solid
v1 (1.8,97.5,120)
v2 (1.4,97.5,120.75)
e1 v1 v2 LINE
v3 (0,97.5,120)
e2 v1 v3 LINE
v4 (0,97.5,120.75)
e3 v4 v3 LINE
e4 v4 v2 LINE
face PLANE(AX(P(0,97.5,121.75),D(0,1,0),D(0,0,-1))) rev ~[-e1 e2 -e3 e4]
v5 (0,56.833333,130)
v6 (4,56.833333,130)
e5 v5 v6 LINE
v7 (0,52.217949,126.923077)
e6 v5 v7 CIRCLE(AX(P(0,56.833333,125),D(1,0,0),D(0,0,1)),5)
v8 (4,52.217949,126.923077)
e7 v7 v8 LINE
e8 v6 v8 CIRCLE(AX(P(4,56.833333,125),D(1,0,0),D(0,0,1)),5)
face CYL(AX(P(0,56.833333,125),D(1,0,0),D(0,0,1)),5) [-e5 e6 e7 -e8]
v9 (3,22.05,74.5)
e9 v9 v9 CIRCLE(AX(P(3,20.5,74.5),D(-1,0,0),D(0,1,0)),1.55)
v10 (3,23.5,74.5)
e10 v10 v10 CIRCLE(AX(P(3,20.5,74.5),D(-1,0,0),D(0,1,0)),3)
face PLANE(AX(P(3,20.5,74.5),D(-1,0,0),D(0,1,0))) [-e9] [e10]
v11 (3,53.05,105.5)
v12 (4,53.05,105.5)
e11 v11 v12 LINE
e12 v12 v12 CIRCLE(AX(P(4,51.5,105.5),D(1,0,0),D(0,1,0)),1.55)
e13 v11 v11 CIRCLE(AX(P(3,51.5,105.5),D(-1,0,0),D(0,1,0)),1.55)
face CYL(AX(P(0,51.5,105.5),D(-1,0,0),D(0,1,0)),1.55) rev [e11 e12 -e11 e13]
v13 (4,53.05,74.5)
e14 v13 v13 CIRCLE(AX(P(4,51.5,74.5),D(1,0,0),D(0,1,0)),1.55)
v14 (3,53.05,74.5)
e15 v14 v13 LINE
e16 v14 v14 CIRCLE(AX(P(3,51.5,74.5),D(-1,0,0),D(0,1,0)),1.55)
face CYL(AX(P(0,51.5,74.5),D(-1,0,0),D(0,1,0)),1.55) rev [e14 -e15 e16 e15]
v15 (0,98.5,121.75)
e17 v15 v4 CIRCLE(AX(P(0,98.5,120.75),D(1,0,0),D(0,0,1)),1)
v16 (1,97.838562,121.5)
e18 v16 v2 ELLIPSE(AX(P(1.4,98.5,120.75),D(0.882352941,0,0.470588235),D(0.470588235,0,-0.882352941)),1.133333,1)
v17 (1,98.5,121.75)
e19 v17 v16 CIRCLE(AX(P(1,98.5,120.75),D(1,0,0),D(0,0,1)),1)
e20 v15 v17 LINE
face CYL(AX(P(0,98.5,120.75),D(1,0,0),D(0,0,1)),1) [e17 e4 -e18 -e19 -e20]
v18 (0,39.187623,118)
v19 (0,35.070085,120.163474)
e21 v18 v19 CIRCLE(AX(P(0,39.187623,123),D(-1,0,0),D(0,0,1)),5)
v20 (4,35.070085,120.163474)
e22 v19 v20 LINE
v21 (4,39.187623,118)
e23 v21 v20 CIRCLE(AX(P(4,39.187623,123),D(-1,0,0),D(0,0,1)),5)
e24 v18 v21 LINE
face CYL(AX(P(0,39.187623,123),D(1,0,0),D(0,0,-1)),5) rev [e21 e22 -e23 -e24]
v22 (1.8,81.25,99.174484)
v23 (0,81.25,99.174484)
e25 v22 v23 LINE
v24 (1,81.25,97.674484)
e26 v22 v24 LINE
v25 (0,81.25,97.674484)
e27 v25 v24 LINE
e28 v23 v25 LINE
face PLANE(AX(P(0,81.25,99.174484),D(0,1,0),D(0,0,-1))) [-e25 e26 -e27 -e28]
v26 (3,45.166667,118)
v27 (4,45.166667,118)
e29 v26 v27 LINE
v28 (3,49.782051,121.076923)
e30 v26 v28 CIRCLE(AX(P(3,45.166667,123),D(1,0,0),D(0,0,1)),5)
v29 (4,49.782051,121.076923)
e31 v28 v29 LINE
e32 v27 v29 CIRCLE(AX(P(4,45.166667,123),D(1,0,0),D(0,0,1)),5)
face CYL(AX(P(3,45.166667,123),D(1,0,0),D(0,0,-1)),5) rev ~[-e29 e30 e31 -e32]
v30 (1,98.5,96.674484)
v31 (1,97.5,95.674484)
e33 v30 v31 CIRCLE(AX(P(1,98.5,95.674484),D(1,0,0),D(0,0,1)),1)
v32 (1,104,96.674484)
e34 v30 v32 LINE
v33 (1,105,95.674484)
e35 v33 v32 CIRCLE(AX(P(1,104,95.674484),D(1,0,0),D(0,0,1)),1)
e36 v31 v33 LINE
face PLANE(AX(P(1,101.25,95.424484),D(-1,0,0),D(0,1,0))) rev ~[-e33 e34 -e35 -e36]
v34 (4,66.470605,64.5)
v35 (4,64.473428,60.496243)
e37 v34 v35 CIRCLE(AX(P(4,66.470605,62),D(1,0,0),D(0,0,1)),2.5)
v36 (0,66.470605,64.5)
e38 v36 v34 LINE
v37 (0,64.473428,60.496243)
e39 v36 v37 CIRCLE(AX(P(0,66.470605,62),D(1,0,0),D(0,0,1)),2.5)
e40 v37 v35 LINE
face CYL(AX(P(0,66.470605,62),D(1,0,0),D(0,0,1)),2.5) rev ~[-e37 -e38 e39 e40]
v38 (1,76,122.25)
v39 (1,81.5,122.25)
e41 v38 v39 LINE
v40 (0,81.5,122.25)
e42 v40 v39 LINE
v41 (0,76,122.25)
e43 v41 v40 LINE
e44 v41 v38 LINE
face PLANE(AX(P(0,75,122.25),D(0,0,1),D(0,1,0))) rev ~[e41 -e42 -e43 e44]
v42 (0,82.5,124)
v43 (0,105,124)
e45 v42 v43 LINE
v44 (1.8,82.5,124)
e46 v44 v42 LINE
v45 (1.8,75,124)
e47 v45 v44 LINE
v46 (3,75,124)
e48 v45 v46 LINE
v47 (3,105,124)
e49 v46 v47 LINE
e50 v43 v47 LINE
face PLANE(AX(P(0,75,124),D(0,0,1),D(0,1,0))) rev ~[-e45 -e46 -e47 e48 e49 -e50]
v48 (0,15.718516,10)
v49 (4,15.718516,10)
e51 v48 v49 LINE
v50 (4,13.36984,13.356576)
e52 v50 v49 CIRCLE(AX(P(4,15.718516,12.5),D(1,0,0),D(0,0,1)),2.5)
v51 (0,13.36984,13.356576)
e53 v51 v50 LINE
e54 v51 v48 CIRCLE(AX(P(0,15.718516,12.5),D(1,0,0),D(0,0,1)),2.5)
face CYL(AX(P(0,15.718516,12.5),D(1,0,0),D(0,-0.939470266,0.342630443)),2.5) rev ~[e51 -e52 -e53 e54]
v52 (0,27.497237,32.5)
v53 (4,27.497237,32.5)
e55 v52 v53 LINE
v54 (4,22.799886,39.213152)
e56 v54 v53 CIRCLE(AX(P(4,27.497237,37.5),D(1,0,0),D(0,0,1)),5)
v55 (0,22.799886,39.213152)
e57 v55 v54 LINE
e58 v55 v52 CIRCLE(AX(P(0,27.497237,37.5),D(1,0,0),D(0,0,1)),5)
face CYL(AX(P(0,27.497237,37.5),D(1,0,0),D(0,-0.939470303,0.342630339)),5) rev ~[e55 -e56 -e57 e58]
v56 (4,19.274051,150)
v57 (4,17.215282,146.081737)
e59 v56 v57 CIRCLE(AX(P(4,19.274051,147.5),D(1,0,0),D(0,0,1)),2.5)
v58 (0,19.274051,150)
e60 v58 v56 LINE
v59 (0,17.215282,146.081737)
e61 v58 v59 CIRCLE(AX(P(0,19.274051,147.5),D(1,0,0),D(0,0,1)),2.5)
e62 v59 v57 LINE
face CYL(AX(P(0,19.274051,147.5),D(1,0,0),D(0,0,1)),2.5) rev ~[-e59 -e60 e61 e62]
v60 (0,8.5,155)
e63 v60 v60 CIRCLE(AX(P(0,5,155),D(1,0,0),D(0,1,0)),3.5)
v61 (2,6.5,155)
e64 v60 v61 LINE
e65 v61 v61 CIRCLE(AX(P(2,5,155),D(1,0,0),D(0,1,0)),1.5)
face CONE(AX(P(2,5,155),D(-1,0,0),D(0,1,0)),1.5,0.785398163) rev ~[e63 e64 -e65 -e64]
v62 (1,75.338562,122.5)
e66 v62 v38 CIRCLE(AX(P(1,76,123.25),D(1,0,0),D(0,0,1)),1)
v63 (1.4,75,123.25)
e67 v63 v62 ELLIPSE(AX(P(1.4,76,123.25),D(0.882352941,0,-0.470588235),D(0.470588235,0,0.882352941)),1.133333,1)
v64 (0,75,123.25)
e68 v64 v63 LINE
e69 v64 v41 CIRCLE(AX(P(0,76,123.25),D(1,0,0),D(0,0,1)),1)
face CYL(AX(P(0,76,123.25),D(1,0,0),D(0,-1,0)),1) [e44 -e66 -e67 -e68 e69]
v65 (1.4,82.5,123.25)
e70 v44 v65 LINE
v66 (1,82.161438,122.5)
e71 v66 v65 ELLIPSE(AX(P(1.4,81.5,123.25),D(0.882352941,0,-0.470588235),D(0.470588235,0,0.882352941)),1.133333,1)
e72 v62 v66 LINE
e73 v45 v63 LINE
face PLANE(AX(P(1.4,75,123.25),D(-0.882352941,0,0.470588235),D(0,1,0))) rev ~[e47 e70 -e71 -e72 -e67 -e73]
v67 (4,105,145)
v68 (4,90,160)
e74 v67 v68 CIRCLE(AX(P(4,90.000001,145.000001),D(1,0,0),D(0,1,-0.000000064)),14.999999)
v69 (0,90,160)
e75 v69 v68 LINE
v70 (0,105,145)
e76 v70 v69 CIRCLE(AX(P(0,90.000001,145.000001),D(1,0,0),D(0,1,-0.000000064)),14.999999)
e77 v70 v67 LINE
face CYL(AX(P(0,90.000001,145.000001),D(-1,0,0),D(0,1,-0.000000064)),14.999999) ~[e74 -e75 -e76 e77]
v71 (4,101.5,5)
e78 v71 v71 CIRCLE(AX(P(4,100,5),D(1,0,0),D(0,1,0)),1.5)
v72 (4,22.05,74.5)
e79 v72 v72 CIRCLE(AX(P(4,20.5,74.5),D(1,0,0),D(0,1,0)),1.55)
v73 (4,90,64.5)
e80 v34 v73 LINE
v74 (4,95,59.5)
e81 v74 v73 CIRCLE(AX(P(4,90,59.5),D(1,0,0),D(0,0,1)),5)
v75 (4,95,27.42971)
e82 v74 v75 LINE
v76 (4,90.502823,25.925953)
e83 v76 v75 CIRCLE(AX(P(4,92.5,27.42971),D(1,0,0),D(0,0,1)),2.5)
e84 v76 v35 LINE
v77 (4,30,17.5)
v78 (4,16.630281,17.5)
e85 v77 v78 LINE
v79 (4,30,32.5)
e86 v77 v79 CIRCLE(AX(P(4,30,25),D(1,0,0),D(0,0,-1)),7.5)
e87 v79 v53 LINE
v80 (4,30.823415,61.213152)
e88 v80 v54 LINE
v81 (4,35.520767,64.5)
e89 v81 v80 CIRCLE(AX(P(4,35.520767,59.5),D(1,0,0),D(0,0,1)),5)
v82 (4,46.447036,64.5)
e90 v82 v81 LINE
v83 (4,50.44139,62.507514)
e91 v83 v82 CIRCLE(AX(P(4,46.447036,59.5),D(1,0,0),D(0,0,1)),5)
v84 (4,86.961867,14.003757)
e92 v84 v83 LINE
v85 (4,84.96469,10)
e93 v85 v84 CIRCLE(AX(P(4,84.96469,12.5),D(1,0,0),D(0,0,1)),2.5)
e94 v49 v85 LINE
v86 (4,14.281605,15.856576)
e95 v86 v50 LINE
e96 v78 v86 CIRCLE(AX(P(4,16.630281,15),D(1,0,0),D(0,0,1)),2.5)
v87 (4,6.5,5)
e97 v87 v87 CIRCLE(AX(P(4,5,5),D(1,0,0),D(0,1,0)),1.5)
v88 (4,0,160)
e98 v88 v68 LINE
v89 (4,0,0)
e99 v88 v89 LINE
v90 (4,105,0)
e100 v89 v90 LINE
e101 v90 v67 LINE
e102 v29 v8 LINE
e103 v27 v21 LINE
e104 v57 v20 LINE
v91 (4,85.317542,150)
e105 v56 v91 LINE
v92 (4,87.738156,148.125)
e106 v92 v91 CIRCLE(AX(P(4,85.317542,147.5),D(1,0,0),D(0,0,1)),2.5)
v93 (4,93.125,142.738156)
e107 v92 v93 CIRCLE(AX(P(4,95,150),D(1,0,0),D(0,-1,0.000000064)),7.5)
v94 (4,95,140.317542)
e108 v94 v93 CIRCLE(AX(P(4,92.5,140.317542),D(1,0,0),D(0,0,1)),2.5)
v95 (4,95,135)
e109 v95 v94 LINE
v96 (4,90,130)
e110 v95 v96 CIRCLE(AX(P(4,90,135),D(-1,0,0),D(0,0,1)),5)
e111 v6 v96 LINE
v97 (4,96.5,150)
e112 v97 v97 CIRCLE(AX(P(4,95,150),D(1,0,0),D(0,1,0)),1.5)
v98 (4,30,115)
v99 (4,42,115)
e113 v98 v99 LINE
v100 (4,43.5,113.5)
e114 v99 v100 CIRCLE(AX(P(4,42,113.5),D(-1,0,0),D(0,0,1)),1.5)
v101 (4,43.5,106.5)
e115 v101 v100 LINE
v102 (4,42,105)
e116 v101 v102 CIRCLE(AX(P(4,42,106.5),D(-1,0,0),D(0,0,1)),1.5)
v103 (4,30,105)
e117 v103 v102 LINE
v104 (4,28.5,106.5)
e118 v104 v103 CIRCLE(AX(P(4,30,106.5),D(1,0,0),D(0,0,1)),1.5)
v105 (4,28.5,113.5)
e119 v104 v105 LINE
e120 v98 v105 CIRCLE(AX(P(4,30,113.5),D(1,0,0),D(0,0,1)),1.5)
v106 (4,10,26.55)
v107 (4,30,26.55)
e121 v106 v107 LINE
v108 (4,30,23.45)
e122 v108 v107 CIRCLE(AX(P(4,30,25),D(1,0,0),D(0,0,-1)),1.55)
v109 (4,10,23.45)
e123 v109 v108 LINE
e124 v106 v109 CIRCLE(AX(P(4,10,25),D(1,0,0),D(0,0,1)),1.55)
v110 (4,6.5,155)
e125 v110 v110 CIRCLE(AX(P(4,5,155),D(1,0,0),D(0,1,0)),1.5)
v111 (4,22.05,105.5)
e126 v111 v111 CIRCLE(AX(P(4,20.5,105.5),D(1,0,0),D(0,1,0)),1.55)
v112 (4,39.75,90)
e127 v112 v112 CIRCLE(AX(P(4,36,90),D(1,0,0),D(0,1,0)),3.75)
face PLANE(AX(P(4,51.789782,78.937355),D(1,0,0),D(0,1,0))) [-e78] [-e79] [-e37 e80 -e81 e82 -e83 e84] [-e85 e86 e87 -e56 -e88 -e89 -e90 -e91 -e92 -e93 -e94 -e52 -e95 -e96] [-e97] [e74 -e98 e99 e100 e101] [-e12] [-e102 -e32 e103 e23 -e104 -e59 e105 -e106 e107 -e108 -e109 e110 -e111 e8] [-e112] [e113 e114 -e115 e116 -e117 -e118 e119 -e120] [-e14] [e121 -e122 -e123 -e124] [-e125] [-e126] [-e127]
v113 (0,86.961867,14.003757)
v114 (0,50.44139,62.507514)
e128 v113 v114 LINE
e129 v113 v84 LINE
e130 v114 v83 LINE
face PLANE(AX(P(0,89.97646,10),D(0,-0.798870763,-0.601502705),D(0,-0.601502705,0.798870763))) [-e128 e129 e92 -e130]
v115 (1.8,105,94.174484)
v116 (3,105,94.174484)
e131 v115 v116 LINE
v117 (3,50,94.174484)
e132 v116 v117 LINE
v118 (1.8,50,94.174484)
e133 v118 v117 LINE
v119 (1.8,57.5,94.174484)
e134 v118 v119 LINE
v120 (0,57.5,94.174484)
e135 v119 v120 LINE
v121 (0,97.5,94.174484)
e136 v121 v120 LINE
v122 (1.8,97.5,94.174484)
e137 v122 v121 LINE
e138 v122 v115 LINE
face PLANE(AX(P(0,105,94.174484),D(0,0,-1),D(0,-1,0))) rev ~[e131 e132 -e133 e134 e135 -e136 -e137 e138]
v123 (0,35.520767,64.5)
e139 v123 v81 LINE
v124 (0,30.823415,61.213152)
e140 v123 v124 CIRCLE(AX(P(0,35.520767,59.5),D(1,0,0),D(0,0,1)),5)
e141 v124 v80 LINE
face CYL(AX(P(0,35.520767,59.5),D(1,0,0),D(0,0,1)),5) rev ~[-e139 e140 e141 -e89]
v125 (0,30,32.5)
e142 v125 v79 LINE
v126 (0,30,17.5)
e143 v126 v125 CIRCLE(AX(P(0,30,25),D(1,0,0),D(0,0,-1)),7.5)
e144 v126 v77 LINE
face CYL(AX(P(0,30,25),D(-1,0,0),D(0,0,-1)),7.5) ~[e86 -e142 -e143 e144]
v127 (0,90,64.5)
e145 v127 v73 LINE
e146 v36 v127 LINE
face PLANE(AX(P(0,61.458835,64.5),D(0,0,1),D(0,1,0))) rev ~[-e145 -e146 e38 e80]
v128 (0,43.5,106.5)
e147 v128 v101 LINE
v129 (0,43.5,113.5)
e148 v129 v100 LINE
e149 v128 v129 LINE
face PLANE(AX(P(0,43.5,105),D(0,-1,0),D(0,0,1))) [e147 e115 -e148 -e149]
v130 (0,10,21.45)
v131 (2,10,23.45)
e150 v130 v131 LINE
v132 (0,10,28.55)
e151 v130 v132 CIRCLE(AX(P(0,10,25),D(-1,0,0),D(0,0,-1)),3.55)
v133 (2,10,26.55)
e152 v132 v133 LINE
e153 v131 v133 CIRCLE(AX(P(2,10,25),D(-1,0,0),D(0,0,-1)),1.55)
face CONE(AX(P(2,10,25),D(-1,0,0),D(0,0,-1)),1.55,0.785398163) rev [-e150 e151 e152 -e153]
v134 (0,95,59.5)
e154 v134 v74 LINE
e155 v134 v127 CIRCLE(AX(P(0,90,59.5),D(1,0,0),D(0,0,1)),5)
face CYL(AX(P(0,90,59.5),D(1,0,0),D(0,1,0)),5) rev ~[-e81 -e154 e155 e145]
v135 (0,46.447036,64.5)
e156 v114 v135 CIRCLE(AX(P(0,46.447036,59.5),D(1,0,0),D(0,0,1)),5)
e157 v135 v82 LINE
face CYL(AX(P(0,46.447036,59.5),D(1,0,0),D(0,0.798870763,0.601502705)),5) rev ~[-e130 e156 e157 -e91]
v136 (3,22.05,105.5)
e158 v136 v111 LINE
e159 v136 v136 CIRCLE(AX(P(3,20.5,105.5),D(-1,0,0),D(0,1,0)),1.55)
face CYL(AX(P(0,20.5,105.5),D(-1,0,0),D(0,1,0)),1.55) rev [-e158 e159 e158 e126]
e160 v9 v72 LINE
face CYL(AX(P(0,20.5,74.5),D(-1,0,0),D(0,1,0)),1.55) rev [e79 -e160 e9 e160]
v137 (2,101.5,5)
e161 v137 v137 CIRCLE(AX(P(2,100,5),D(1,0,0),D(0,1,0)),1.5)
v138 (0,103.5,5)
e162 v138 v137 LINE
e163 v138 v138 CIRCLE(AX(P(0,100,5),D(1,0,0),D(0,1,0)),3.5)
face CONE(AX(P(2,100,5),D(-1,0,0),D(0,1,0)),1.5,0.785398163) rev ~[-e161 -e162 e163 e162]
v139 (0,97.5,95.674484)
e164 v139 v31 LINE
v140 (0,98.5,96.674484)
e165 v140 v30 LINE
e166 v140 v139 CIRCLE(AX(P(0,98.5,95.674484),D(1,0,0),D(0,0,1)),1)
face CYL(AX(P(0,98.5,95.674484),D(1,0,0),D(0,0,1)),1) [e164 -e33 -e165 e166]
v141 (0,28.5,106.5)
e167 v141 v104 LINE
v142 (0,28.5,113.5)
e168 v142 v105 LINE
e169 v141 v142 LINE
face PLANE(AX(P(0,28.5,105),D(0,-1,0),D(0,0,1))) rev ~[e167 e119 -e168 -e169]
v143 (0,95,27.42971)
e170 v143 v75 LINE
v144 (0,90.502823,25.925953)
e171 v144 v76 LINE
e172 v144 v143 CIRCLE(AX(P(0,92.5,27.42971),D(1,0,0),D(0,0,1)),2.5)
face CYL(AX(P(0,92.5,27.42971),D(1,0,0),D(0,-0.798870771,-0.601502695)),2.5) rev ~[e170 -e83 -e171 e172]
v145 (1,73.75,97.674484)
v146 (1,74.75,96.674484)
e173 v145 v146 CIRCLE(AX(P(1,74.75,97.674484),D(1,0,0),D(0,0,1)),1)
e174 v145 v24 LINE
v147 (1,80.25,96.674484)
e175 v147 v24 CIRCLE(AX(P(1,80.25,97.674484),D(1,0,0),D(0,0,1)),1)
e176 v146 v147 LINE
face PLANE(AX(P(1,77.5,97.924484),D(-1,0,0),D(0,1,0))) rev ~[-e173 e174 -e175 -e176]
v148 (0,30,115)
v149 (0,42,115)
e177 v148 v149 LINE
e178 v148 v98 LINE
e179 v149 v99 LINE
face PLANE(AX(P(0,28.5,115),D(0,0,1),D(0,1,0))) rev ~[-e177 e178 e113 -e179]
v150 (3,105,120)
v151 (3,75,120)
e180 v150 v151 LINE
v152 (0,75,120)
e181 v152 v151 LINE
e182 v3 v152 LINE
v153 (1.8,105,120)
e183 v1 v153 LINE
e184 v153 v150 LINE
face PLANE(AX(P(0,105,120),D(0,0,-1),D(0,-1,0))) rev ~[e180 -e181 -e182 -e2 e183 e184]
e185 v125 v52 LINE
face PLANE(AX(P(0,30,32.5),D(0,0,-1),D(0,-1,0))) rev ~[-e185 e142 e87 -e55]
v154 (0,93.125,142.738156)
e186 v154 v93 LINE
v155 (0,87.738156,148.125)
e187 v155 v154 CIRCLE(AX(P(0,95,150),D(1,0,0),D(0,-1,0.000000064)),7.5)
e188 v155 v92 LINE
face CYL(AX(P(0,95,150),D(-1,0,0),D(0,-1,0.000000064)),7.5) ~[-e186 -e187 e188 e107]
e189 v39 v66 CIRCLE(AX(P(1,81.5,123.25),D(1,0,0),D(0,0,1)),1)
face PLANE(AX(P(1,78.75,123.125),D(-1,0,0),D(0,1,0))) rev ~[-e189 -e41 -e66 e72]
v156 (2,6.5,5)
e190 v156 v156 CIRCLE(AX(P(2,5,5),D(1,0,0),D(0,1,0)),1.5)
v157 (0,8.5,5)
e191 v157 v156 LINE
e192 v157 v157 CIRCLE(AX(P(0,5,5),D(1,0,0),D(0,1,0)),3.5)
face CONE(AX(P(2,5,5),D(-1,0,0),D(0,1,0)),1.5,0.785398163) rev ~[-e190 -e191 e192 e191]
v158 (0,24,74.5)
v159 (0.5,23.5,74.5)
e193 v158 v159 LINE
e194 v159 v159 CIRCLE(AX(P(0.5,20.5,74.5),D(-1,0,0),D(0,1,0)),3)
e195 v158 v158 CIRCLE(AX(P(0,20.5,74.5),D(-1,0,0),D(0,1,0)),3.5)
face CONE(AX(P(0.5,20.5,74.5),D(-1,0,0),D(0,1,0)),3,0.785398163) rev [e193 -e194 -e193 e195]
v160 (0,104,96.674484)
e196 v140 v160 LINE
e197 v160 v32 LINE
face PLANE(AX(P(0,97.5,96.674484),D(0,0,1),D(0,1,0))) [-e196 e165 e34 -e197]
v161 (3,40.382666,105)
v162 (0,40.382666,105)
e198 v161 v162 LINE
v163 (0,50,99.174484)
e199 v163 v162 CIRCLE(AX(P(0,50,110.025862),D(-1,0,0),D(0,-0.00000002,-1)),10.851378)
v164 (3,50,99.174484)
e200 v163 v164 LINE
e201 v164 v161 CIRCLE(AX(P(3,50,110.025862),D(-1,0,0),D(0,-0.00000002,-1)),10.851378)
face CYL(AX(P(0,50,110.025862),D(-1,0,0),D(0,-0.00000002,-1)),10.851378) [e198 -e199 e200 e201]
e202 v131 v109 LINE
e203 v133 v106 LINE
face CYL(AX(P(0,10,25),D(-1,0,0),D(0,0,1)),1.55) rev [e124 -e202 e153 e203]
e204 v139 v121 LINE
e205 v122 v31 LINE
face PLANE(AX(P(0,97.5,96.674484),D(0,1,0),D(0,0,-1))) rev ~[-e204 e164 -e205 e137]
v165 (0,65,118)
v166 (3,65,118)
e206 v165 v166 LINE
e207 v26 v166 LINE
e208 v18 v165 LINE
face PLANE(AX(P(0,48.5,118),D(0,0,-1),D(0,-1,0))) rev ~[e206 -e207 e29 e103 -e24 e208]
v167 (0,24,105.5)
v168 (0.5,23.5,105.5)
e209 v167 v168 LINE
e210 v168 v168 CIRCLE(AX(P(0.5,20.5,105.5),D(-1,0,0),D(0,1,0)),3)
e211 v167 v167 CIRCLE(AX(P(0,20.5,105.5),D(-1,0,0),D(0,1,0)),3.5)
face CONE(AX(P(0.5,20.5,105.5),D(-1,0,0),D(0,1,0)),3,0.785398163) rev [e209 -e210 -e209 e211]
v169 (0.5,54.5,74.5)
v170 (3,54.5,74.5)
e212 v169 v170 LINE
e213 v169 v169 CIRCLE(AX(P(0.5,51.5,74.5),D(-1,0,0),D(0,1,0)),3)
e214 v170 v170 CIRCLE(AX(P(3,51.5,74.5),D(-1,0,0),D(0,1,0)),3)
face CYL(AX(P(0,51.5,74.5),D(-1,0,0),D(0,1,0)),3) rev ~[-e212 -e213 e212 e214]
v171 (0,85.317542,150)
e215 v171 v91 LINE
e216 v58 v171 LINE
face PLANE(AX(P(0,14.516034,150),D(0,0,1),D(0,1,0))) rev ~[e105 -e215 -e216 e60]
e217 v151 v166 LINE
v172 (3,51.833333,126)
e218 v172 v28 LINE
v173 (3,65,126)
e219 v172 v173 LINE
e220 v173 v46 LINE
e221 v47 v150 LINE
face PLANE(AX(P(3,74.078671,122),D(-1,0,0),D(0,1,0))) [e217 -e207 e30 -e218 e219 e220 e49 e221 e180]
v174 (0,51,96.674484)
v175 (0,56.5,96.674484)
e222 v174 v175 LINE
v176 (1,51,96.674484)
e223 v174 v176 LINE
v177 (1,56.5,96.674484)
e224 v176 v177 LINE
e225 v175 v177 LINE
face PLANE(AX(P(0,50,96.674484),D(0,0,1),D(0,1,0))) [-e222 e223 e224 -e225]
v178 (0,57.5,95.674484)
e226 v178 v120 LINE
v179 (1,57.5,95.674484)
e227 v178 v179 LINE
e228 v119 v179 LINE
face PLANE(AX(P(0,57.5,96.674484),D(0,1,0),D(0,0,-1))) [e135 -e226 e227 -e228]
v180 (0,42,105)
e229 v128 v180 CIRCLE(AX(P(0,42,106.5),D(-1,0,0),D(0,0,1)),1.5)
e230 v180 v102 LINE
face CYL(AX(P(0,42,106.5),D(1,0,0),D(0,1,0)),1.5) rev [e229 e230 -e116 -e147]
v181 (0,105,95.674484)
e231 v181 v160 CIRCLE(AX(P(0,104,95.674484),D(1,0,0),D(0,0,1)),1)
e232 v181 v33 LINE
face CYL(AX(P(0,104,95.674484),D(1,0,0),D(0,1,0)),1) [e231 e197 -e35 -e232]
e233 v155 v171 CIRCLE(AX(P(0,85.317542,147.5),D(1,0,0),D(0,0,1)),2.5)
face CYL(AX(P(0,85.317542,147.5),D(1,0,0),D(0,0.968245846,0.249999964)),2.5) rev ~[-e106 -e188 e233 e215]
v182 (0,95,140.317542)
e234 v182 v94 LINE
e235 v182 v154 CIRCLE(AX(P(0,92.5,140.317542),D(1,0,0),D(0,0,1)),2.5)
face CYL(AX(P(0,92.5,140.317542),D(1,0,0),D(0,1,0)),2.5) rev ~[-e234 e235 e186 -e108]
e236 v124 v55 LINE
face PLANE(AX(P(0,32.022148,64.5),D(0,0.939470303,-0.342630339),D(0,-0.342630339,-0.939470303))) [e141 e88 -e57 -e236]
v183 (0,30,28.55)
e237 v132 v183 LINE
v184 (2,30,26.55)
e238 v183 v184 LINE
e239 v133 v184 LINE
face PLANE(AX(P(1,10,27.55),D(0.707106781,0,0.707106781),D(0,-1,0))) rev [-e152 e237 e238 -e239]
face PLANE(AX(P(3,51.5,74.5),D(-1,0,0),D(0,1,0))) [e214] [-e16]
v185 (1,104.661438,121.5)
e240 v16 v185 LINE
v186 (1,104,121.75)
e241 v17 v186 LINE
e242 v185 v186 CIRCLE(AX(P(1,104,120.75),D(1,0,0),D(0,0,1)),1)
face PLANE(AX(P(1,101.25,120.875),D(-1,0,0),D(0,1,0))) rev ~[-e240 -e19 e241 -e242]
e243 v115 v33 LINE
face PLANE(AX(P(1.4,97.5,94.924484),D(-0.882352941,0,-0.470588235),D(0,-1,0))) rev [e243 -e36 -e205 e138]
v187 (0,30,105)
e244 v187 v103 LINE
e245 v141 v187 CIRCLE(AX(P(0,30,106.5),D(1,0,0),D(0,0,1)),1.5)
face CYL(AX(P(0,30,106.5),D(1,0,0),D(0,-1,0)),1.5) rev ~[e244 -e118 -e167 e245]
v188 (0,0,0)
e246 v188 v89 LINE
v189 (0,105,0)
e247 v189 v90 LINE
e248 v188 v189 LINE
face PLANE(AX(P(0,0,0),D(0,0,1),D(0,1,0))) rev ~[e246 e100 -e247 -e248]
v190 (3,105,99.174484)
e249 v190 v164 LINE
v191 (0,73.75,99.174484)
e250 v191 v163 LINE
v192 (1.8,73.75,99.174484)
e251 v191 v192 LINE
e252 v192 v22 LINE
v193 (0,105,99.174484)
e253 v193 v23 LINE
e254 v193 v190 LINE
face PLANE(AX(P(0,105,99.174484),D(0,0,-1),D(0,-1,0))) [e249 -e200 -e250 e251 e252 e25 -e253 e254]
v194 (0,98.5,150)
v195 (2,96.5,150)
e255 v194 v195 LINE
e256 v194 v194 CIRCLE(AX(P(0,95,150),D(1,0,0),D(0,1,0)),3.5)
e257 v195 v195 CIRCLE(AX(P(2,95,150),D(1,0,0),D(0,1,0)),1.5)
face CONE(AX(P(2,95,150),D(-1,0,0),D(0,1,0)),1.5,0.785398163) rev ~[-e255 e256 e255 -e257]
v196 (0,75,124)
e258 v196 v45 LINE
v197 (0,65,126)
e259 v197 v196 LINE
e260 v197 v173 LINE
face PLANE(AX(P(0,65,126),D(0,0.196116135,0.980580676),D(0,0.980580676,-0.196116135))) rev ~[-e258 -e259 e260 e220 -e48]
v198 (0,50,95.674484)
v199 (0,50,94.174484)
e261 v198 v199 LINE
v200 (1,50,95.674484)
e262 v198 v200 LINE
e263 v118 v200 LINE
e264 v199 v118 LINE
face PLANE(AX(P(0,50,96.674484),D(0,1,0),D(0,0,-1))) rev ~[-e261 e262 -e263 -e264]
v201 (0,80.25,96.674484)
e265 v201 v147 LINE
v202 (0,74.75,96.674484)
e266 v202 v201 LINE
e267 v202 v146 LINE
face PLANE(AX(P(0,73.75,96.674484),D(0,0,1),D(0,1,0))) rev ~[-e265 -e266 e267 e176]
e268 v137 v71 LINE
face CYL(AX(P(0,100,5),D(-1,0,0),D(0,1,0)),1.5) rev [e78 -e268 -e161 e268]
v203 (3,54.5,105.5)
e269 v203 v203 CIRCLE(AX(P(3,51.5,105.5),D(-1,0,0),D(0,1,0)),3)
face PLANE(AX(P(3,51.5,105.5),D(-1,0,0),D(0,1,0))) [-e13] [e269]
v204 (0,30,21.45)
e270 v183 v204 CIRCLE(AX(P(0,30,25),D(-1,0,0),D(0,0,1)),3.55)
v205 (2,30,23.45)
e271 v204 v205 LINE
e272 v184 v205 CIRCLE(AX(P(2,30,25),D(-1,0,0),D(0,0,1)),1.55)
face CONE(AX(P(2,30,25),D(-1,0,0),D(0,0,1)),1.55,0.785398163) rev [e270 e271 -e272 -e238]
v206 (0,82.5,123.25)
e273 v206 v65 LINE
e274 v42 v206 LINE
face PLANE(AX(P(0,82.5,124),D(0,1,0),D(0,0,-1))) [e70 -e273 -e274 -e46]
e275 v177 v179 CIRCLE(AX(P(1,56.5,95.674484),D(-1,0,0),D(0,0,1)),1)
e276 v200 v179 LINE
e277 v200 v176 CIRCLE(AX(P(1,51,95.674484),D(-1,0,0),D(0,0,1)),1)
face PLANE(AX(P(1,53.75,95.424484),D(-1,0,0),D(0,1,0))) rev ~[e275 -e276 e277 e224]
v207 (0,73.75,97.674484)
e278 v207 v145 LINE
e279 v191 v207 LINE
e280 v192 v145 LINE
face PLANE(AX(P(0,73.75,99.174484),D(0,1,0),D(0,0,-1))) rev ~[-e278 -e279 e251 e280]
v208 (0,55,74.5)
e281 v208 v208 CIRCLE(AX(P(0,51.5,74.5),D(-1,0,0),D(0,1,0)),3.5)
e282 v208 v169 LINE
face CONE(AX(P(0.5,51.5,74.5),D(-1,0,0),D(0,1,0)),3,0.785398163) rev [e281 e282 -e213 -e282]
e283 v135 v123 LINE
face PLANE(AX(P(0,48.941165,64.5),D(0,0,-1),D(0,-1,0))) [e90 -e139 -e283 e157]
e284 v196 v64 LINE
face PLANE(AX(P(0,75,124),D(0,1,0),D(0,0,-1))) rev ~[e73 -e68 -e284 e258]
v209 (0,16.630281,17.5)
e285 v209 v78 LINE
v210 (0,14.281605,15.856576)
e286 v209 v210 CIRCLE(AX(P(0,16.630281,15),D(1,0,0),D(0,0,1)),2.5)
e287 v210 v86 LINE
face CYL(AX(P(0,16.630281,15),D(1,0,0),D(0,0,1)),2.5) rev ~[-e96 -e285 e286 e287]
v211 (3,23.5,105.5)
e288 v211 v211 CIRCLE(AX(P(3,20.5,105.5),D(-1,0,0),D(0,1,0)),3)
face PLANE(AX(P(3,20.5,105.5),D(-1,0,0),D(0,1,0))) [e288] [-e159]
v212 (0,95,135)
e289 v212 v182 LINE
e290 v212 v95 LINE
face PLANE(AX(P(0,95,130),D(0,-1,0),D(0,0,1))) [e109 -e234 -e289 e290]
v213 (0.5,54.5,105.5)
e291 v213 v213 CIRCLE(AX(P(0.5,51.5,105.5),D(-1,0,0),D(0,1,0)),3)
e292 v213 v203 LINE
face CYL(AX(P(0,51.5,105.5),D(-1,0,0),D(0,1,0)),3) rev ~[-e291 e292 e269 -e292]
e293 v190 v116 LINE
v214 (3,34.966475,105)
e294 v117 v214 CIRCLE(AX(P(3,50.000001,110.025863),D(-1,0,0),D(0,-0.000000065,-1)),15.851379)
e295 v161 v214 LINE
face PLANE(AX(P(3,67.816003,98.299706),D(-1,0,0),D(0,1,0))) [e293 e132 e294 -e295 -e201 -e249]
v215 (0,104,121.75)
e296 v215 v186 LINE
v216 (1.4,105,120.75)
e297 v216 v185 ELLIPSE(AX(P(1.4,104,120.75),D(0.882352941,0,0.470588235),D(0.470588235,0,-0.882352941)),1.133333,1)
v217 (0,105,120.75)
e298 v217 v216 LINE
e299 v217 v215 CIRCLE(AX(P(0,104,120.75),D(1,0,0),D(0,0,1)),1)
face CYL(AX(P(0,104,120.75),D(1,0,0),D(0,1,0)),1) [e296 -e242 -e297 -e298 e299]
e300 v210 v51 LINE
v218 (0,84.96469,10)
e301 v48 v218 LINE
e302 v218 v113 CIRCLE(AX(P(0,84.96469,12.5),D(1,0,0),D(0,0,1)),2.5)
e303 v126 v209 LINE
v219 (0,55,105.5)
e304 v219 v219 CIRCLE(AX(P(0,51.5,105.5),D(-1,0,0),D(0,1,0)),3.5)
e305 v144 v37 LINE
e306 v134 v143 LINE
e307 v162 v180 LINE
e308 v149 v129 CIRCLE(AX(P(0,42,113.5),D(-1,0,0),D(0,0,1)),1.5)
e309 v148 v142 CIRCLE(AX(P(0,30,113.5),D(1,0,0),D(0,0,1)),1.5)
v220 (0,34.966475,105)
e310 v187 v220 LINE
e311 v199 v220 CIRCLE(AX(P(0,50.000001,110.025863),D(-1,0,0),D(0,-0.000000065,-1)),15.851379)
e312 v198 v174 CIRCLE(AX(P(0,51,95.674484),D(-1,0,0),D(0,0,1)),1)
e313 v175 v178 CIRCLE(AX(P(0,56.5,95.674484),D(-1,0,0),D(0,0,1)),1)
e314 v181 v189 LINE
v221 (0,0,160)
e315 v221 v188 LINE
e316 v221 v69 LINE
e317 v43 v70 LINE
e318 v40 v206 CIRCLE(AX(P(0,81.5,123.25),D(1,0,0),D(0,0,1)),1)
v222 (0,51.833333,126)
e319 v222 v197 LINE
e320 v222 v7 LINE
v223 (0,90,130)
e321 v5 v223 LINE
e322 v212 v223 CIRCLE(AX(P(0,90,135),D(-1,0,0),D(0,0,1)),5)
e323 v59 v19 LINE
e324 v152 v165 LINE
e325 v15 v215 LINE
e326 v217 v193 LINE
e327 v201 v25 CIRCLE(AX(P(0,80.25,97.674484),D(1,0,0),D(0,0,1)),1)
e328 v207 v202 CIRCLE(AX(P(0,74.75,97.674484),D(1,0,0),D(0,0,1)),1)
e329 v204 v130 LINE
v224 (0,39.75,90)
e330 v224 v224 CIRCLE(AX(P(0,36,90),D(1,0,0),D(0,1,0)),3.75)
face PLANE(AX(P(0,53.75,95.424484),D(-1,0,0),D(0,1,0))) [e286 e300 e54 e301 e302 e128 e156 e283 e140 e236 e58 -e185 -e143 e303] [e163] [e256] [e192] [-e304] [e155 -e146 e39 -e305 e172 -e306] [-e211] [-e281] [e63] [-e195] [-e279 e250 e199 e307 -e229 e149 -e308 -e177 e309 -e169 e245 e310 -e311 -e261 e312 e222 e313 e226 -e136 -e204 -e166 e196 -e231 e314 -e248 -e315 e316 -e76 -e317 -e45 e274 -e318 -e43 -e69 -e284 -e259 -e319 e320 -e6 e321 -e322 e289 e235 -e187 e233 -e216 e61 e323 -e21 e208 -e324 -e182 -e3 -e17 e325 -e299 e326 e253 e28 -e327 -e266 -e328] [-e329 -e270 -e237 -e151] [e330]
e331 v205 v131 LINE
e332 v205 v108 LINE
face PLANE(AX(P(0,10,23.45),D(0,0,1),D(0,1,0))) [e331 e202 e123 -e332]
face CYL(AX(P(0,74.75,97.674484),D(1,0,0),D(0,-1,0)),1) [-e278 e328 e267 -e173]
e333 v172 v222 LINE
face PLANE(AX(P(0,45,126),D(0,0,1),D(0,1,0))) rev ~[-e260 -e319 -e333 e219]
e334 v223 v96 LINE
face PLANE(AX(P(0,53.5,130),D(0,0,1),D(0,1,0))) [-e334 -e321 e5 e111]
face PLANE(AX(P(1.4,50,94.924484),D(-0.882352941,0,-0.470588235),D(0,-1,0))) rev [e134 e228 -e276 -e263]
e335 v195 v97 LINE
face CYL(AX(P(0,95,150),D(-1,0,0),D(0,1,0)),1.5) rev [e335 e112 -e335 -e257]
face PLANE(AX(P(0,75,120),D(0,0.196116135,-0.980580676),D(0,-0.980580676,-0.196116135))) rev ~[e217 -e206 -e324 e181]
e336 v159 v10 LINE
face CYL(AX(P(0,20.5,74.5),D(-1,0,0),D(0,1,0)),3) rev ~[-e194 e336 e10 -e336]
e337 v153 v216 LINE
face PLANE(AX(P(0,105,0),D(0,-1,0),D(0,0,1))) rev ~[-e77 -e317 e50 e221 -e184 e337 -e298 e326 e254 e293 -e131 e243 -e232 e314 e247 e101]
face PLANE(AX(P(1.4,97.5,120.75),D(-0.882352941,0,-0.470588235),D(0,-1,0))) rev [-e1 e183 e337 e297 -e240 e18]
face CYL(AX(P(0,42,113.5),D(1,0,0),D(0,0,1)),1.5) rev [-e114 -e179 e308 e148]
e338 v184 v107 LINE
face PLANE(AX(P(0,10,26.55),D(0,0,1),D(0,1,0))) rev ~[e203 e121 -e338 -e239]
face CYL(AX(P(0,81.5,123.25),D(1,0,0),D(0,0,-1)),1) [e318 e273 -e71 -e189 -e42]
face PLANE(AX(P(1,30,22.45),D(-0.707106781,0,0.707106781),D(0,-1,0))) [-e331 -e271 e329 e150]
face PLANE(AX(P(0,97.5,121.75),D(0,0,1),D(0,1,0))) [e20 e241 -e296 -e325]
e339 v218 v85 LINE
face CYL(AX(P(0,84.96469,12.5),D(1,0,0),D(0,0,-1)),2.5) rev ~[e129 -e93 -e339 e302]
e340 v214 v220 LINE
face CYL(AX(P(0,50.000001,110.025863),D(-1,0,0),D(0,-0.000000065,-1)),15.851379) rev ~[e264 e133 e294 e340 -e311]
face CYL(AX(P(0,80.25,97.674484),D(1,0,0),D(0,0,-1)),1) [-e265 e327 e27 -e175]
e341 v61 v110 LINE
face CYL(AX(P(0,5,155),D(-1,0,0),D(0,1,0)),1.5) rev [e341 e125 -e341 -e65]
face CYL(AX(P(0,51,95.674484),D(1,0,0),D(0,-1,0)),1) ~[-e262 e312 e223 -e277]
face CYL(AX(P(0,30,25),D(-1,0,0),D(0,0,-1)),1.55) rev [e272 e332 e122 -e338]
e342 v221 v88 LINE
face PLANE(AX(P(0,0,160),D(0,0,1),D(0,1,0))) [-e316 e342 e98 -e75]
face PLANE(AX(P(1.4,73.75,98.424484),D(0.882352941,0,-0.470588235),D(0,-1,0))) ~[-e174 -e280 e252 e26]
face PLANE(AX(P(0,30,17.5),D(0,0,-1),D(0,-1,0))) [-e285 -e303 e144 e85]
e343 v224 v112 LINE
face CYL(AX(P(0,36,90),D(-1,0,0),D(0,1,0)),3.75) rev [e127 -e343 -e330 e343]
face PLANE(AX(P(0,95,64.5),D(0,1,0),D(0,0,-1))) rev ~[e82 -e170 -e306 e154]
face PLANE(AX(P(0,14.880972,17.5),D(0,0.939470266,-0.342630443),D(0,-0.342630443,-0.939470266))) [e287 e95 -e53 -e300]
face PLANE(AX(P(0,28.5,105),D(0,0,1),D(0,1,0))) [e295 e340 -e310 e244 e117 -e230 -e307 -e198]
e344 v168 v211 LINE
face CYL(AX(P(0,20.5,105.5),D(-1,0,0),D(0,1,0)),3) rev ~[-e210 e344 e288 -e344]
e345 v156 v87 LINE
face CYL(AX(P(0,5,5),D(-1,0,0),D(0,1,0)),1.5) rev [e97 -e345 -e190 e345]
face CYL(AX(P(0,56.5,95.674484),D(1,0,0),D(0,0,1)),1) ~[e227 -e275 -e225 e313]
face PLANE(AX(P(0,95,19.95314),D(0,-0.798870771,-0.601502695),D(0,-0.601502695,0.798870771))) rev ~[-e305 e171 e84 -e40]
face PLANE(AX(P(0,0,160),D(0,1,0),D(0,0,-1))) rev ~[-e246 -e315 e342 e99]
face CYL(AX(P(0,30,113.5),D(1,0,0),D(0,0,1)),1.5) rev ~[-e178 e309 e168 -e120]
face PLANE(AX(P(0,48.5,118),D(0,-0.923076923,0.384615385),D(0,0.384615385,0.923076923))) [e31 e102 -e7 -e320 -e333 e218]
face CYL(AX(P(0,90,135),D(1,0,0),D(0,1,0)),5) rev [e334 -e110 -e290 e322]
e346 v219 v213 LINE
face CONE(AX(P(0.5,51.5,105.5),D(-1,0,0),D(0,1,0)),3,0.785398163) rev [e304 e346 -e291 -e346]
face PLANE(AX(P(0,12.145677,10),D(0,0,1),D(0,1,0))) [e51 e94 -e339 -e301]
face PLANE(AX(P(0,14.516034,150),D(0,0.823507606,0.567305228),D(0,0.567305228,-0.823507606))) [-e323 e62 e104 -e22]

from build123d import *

# Parameters (mm, degrees)
SKETCH_R           = 3.75
SKETCH_R_2         = 1.5
SKETCH_R_3         = 1.55
SKETCH_W           = 15
SKETCH_H           = 10
PAD_DEPTH          = 4
SKETCH002_R        = 3
POCKET_DEPTH       = 3
CHAMFER001_SIZE    = 0.5
POCKET001_DEPTH    = 3
SKETCH003_W        = 7.5
SKETCH003_H        = 2.5
SKETCH003_H_2      = 1.75
PAD001_DEPTH       = 1
CHAMFER002_1_SIZE2 = 1.5
CHAMFER002_1_SIZE  = 0.8
CHAMFER002_2_SIZE2 = 1.5
CHAMFER002_2_SIZE  = 0.8
CHAMFER002_3_SIZE2 = 1.5
CHAMFER002_3_SIZE  = 0.8
CHAMFER002_4_SIZE2 = 1.5
CHAMFER002_4_SIZE  = 0.8
FILLET_R           = 1.5
FILLET001_R        = 1
FILLET002_R        = 5
FILLET003_R        = 2.5
CHAMFER003_SIZE    = 2


with BuildPart() as part:
    # Sketch → Pad (new body)
    with BuildSketch(Plane.YZ):
        with BuildLine():
            Line((0, 0), (105, 0))
            Line((105, 0), (105, 145))
            ThreePointArc((105, 145), (100.606602, 155.606602), (90, 160))
            Line((0, 160), (90, 160))
            Line((0, 160), (0, 0))
        make_face()
        with Locations((36, 90)):
            Circle(SKETCH_R, mode=Mode.SUBTRACT)
        with Locations((5, 155)):
            Circle(SKETCH_R_2, mode=Mode.SUBTRACT)
        with Locations((95, 150)):
            Circle(SKETCH_R_2, mode=Mode.SUBTRACT)
        with Locations((100, 5)):
            Circle(SKETCH_R_2, mode=Mode.SUBTRACT)
        with Locations((5, 5)):
            Circle(SKETCH_R_2, mode=Mode.SUBTRACT)
        with Locations((20.5, 105.5)):
            Circle(SKETCH_R_3, mode=Mode.SUBTRACT)
        with Locations((51.5, 105.5)):
            Circle(SKETCH_R_3, mode=Mode.SUBTRACT)
        with Locations((51.5, 74.5)):
            Circle(SKETCH_R_3, mode=Mode.SUBTRACT)
        with Locations((20.5, 74.5)):
            Circle(SKETCH_R_3, mode=Mode.SUBTRACT)
        with BuildLine():
            ThreePointArc((10, 26.55), (8.45, 25), (10, 23.45))
            Line((10, 23.45), (30, 23.45))
            ThreePointArc((30, 23.45), (31.55, 25), (30, 26.55))
            Line((10, 26.55), (30, 26.55))
        make_face(mode=Mode.SUBTRACT)
        with BuildLine():
            ThreePointArc((30, 17.5), (37.5, 25), (30, 32.5))
            Line((30, 32.5), (20.35156, 32.5))
            Line((32.022148, 64.5), (20.35156, 32.5))
            Line((48.941165, 64.5), (32.022148, 64.5))
            Line((89.97646, 10), (48.941165, 64.5))
            Line((12.145677, 10), (89.97646, 10))
            Line((14.880972, 17.5), (12.145677, 10))
            Line((30, 17.5), (14.880972, 17.5))
        make_face(mode=Mode.SUBTRACT)
        Polygon((61.458835, 64.5), (95, 64.5), (95, 19.95314), align=None, mode=Mode.SUBTRACT)
        with Locations((36, 110)):
            Rectangle(SKETCH_W, SKETCH_H, mode=Mode.SUBTRACT)
        with BuildLine():
            Line((14.516034, 150), (36.560478, 118))
            Line((48.5, 118), (36.560478, 118))
            Line((48.5, 118), (53.5, 130))
            Line((53.5, 130), (95, 130))
            Line((95, 130), (95, 142.5))
            ThreePointArc((87.5, 150), (89.696699, 144.696699), (95, 142.5))
            Line((14.516034, 150), (87.5, 150))
        make_face(mode=Mode.SUBTRACT)
    extrude(amount=PAD_DEPTH)

    # Sketch002 → Pocket (cut)
    with BuildSketch(Plane(origin=(0, 0, 0), x_dir=(0, 1, 0), z_dir=(-1, 0, 0))):
        with Locations((51.5, -105.5)):
            Circle(SKETCH002_R)
        with Locations((20.5, -105.5)):
            Circle(SKETCH002_R)
        with Locations((20.5, -74.5)):
            Circle(SKETCH002_R)
        with Locations((51.5, -74.5)):
            Circle(SKETCH002_R)
    extrude(amount=-POCKET_DEPTH, mode=Mode.SUBTRACT)

    # Chamfer001
    chamfer001_edges = [part.edges().sort_by_distance(p)[0] for p in [
        (0, 48.5, 105.5),
        (0, 17.5, 105.5),
        (0, 17.5, 74.5),
        (0, 48.5, 74.5),
    ]]
    chamfer(chamfer001_edges, length=CHAMFER001_SIZE)

    # Sketch001 → Pocket001 (cut)
    with BuildSketch(Plane(origin=(0, 0, 0), x_dir=(0, 1, 0), z_dir=(-1, 0, 0))):
        with BuildLine():
            Line((34.196597, -108.793538), (34.118854, -109.790511))
            Line((34.118854, -109.790511), (39.103722, -110.179223))
            Line((39.181464, -109.18225), (39.103722, -110.179223))
            ThreePointArc((50, -99.174484), (42.631213, -102.060099), (39.181464, -109.18225))
            Line((105, -99.174484), (50, -99.174484))
            Line((105, -99.174484), (105, -94.174484))
            Line((105, -94.174484), (50, -94.174484))
            ThreePointArc((50, -94.174484), (39.23589, -98.389707), (34.196597, -108.793538))
        make_face()
        Polygon((105, -124), (105, -120), (75, -120), (65, -118), (45, -118), (45, -126), (65, -126), (75, -124), align=None)
    extrude(amount=-POCKET001_DEPTH, mode=Mode.SUBTRACT)

    # Sketch003 (on Face1 of Pocket001) → Pad001 (join)
    with BuildSketch(Plane(origin=(0, 0, 0), x_dir=(0, 1, 0), z_dir=(-1, 0, 0))):
        with Locations((53.75, -95.424484)):
            Rectangle(SKETCH003_W, SKETCH003_H)
        with Locations((77.5, -97.924484)):
            Rectangle(SKETCH003_W, SKETCH003_H)
        with Locations((101.25, -95.424484)):
            Rectangle(SKETCH003_W, SKETCH003_H)
        with Locations((101.25, -120.875)):
            Rectangle(SKETCH003_W, SKETCH003_H_2)
        with Locations((78.75, -123.125)):
            Rectangle(SKETCH003_W, SKETCH003_H_2)
    extrude(amount=-PAD001_DEPTH)

    # Chamfer002 1
    chamfer002_1_edges = [part.edges().sort_by_distance(p)[0] for p in [
        (1, 101.25, 94.174484),
        (1, 53.75, 94.174484),
    ]]
    chamfer002_1_side = part.faces().sort_by_distance((1.6, 77.5, 94.174484))[0]
    chamfer(chamfer002_1_edges, length=CHAMFER002_1_SIZE, length2=CHAMFER002_1_SIZE2, reference=chamfer002_1_side)

    # Chamfer002 2
    chamfer002_2_edges = [part.edges().sort_by_distance(p)[0] for p in [
        (1, 77.5, 99.174484),
    ]]
    chamfer002_2_side = part.faces().sort_by_distance((1.547619, 77.5, 99.174484))[0]
    chamfer(chamfer002_2_edges, length=CHAMFER002_2_SIZE, length2=CHAMFER002_2_SIZE2, reference=chamfer002_2_side)

    # Chamfer002 3
    chamfer002_3_edges = [part.edges().sort_by_distance(p)[0] for p in [
        (1, 78.75, 124),
    ]]
    chamfer002_3_side = part.faces().sort_by_distance((1.590909, 91.022727, 124))[0]
    chamfer(chamfer002_3_edges, length=CHAMFER002_3_SIZE, length2=CHAMFER002_3_SIZE2, reference=chamfer002_3_side)

    # Chamfer002 4
    chamfer002_4_edges = [part.edges().sort_by_distance(p)[0] for p in [
        (1, 101.25, 120),
    ]]
    chamfer002_4_side = part.faces().sort_by_distance((1.590909, 88.977273, 120))[0]
    chamfer(chamfer002_4_edges, length=CHAMFER002_4_SIZE, length2=CHAMFER002_4_SIZE2, reference=chamfer002_4_side)

    # Fillet
    fillet_edges = [part.edges().sort_by_distance(p)[0] for p in [
        (2, 43.5, 105),
        (2, 43.5, 115),
        (2, 28.5, 105),
        (2, 28.5, 115),
    ]]
    fillet(fillet_edges, radius=FILLET_R)

    # Fillet001
    fillet001_edges = [part.edges().sort_by_distance(p)[0] for p in [
        (0.5, 75, 122.25),
        (0.5, 82.5, 122.25),
        (0.5, 97.5, 121.75),
        (0.5, 97.5, 96.674484),
        (0.5, 73.75, 96.674484),
        (0.5, 50, 96.674484),
        (0.5, 105, 96.674484),
        (0.5, 105, 121.75),
        (0.5, 81.25, 96.674484),
        (0.5, 57.5, 96.674484),
    ]]
    fillet(fillet001_edges, radius=FILLET001_R)

    # Fillet002
    fillet002_edges = [part.edges().sort_by_distance(p)[0] for p in [
        (2, 95, 130),
        (2, 53.5, 130),
        (3.5, 48.5, 118),
        (2, 36.560478, 118),
        (2, 95, 64.5),
        (2, 48.941165, 64.5),
        (2, 32.022148, 64.5),
        (2, 20.35156, 32.5),
    ]]
    fillet(fillet002_edges, radius=FILLET002_R)

    # Fillet003
    fillet003_edges = [part.edges().sort_by_distance(p)[0] for p in [
        (2, 61.458835, 64.5),
        (2, 14.880972, 17.5),
        (2, 12.145677, 10),
        (2, 95, 19.95314),
        (2, 89.97646, 10),
        (2, 14.516034, 150),
        (2, 95, 142.5),
        (2, 87.5, 150),
    ]]
    fillet(fillet003_edges, radius=FILLET003_R)

    # Chamfer003
    chamfer003_edges = [part.edges().sort_by_distance(p)[0] for p in [
        (0, 20, 26.55),
        (0, 98.5, 5),
        (0, 3.5, 5),
        (0, 3.5, 155),
        (0, 93.5, 150),
    ]]
    chamfer(chamfer003_edges, length=CHAMFER003_SIZE)


solid = part.part
